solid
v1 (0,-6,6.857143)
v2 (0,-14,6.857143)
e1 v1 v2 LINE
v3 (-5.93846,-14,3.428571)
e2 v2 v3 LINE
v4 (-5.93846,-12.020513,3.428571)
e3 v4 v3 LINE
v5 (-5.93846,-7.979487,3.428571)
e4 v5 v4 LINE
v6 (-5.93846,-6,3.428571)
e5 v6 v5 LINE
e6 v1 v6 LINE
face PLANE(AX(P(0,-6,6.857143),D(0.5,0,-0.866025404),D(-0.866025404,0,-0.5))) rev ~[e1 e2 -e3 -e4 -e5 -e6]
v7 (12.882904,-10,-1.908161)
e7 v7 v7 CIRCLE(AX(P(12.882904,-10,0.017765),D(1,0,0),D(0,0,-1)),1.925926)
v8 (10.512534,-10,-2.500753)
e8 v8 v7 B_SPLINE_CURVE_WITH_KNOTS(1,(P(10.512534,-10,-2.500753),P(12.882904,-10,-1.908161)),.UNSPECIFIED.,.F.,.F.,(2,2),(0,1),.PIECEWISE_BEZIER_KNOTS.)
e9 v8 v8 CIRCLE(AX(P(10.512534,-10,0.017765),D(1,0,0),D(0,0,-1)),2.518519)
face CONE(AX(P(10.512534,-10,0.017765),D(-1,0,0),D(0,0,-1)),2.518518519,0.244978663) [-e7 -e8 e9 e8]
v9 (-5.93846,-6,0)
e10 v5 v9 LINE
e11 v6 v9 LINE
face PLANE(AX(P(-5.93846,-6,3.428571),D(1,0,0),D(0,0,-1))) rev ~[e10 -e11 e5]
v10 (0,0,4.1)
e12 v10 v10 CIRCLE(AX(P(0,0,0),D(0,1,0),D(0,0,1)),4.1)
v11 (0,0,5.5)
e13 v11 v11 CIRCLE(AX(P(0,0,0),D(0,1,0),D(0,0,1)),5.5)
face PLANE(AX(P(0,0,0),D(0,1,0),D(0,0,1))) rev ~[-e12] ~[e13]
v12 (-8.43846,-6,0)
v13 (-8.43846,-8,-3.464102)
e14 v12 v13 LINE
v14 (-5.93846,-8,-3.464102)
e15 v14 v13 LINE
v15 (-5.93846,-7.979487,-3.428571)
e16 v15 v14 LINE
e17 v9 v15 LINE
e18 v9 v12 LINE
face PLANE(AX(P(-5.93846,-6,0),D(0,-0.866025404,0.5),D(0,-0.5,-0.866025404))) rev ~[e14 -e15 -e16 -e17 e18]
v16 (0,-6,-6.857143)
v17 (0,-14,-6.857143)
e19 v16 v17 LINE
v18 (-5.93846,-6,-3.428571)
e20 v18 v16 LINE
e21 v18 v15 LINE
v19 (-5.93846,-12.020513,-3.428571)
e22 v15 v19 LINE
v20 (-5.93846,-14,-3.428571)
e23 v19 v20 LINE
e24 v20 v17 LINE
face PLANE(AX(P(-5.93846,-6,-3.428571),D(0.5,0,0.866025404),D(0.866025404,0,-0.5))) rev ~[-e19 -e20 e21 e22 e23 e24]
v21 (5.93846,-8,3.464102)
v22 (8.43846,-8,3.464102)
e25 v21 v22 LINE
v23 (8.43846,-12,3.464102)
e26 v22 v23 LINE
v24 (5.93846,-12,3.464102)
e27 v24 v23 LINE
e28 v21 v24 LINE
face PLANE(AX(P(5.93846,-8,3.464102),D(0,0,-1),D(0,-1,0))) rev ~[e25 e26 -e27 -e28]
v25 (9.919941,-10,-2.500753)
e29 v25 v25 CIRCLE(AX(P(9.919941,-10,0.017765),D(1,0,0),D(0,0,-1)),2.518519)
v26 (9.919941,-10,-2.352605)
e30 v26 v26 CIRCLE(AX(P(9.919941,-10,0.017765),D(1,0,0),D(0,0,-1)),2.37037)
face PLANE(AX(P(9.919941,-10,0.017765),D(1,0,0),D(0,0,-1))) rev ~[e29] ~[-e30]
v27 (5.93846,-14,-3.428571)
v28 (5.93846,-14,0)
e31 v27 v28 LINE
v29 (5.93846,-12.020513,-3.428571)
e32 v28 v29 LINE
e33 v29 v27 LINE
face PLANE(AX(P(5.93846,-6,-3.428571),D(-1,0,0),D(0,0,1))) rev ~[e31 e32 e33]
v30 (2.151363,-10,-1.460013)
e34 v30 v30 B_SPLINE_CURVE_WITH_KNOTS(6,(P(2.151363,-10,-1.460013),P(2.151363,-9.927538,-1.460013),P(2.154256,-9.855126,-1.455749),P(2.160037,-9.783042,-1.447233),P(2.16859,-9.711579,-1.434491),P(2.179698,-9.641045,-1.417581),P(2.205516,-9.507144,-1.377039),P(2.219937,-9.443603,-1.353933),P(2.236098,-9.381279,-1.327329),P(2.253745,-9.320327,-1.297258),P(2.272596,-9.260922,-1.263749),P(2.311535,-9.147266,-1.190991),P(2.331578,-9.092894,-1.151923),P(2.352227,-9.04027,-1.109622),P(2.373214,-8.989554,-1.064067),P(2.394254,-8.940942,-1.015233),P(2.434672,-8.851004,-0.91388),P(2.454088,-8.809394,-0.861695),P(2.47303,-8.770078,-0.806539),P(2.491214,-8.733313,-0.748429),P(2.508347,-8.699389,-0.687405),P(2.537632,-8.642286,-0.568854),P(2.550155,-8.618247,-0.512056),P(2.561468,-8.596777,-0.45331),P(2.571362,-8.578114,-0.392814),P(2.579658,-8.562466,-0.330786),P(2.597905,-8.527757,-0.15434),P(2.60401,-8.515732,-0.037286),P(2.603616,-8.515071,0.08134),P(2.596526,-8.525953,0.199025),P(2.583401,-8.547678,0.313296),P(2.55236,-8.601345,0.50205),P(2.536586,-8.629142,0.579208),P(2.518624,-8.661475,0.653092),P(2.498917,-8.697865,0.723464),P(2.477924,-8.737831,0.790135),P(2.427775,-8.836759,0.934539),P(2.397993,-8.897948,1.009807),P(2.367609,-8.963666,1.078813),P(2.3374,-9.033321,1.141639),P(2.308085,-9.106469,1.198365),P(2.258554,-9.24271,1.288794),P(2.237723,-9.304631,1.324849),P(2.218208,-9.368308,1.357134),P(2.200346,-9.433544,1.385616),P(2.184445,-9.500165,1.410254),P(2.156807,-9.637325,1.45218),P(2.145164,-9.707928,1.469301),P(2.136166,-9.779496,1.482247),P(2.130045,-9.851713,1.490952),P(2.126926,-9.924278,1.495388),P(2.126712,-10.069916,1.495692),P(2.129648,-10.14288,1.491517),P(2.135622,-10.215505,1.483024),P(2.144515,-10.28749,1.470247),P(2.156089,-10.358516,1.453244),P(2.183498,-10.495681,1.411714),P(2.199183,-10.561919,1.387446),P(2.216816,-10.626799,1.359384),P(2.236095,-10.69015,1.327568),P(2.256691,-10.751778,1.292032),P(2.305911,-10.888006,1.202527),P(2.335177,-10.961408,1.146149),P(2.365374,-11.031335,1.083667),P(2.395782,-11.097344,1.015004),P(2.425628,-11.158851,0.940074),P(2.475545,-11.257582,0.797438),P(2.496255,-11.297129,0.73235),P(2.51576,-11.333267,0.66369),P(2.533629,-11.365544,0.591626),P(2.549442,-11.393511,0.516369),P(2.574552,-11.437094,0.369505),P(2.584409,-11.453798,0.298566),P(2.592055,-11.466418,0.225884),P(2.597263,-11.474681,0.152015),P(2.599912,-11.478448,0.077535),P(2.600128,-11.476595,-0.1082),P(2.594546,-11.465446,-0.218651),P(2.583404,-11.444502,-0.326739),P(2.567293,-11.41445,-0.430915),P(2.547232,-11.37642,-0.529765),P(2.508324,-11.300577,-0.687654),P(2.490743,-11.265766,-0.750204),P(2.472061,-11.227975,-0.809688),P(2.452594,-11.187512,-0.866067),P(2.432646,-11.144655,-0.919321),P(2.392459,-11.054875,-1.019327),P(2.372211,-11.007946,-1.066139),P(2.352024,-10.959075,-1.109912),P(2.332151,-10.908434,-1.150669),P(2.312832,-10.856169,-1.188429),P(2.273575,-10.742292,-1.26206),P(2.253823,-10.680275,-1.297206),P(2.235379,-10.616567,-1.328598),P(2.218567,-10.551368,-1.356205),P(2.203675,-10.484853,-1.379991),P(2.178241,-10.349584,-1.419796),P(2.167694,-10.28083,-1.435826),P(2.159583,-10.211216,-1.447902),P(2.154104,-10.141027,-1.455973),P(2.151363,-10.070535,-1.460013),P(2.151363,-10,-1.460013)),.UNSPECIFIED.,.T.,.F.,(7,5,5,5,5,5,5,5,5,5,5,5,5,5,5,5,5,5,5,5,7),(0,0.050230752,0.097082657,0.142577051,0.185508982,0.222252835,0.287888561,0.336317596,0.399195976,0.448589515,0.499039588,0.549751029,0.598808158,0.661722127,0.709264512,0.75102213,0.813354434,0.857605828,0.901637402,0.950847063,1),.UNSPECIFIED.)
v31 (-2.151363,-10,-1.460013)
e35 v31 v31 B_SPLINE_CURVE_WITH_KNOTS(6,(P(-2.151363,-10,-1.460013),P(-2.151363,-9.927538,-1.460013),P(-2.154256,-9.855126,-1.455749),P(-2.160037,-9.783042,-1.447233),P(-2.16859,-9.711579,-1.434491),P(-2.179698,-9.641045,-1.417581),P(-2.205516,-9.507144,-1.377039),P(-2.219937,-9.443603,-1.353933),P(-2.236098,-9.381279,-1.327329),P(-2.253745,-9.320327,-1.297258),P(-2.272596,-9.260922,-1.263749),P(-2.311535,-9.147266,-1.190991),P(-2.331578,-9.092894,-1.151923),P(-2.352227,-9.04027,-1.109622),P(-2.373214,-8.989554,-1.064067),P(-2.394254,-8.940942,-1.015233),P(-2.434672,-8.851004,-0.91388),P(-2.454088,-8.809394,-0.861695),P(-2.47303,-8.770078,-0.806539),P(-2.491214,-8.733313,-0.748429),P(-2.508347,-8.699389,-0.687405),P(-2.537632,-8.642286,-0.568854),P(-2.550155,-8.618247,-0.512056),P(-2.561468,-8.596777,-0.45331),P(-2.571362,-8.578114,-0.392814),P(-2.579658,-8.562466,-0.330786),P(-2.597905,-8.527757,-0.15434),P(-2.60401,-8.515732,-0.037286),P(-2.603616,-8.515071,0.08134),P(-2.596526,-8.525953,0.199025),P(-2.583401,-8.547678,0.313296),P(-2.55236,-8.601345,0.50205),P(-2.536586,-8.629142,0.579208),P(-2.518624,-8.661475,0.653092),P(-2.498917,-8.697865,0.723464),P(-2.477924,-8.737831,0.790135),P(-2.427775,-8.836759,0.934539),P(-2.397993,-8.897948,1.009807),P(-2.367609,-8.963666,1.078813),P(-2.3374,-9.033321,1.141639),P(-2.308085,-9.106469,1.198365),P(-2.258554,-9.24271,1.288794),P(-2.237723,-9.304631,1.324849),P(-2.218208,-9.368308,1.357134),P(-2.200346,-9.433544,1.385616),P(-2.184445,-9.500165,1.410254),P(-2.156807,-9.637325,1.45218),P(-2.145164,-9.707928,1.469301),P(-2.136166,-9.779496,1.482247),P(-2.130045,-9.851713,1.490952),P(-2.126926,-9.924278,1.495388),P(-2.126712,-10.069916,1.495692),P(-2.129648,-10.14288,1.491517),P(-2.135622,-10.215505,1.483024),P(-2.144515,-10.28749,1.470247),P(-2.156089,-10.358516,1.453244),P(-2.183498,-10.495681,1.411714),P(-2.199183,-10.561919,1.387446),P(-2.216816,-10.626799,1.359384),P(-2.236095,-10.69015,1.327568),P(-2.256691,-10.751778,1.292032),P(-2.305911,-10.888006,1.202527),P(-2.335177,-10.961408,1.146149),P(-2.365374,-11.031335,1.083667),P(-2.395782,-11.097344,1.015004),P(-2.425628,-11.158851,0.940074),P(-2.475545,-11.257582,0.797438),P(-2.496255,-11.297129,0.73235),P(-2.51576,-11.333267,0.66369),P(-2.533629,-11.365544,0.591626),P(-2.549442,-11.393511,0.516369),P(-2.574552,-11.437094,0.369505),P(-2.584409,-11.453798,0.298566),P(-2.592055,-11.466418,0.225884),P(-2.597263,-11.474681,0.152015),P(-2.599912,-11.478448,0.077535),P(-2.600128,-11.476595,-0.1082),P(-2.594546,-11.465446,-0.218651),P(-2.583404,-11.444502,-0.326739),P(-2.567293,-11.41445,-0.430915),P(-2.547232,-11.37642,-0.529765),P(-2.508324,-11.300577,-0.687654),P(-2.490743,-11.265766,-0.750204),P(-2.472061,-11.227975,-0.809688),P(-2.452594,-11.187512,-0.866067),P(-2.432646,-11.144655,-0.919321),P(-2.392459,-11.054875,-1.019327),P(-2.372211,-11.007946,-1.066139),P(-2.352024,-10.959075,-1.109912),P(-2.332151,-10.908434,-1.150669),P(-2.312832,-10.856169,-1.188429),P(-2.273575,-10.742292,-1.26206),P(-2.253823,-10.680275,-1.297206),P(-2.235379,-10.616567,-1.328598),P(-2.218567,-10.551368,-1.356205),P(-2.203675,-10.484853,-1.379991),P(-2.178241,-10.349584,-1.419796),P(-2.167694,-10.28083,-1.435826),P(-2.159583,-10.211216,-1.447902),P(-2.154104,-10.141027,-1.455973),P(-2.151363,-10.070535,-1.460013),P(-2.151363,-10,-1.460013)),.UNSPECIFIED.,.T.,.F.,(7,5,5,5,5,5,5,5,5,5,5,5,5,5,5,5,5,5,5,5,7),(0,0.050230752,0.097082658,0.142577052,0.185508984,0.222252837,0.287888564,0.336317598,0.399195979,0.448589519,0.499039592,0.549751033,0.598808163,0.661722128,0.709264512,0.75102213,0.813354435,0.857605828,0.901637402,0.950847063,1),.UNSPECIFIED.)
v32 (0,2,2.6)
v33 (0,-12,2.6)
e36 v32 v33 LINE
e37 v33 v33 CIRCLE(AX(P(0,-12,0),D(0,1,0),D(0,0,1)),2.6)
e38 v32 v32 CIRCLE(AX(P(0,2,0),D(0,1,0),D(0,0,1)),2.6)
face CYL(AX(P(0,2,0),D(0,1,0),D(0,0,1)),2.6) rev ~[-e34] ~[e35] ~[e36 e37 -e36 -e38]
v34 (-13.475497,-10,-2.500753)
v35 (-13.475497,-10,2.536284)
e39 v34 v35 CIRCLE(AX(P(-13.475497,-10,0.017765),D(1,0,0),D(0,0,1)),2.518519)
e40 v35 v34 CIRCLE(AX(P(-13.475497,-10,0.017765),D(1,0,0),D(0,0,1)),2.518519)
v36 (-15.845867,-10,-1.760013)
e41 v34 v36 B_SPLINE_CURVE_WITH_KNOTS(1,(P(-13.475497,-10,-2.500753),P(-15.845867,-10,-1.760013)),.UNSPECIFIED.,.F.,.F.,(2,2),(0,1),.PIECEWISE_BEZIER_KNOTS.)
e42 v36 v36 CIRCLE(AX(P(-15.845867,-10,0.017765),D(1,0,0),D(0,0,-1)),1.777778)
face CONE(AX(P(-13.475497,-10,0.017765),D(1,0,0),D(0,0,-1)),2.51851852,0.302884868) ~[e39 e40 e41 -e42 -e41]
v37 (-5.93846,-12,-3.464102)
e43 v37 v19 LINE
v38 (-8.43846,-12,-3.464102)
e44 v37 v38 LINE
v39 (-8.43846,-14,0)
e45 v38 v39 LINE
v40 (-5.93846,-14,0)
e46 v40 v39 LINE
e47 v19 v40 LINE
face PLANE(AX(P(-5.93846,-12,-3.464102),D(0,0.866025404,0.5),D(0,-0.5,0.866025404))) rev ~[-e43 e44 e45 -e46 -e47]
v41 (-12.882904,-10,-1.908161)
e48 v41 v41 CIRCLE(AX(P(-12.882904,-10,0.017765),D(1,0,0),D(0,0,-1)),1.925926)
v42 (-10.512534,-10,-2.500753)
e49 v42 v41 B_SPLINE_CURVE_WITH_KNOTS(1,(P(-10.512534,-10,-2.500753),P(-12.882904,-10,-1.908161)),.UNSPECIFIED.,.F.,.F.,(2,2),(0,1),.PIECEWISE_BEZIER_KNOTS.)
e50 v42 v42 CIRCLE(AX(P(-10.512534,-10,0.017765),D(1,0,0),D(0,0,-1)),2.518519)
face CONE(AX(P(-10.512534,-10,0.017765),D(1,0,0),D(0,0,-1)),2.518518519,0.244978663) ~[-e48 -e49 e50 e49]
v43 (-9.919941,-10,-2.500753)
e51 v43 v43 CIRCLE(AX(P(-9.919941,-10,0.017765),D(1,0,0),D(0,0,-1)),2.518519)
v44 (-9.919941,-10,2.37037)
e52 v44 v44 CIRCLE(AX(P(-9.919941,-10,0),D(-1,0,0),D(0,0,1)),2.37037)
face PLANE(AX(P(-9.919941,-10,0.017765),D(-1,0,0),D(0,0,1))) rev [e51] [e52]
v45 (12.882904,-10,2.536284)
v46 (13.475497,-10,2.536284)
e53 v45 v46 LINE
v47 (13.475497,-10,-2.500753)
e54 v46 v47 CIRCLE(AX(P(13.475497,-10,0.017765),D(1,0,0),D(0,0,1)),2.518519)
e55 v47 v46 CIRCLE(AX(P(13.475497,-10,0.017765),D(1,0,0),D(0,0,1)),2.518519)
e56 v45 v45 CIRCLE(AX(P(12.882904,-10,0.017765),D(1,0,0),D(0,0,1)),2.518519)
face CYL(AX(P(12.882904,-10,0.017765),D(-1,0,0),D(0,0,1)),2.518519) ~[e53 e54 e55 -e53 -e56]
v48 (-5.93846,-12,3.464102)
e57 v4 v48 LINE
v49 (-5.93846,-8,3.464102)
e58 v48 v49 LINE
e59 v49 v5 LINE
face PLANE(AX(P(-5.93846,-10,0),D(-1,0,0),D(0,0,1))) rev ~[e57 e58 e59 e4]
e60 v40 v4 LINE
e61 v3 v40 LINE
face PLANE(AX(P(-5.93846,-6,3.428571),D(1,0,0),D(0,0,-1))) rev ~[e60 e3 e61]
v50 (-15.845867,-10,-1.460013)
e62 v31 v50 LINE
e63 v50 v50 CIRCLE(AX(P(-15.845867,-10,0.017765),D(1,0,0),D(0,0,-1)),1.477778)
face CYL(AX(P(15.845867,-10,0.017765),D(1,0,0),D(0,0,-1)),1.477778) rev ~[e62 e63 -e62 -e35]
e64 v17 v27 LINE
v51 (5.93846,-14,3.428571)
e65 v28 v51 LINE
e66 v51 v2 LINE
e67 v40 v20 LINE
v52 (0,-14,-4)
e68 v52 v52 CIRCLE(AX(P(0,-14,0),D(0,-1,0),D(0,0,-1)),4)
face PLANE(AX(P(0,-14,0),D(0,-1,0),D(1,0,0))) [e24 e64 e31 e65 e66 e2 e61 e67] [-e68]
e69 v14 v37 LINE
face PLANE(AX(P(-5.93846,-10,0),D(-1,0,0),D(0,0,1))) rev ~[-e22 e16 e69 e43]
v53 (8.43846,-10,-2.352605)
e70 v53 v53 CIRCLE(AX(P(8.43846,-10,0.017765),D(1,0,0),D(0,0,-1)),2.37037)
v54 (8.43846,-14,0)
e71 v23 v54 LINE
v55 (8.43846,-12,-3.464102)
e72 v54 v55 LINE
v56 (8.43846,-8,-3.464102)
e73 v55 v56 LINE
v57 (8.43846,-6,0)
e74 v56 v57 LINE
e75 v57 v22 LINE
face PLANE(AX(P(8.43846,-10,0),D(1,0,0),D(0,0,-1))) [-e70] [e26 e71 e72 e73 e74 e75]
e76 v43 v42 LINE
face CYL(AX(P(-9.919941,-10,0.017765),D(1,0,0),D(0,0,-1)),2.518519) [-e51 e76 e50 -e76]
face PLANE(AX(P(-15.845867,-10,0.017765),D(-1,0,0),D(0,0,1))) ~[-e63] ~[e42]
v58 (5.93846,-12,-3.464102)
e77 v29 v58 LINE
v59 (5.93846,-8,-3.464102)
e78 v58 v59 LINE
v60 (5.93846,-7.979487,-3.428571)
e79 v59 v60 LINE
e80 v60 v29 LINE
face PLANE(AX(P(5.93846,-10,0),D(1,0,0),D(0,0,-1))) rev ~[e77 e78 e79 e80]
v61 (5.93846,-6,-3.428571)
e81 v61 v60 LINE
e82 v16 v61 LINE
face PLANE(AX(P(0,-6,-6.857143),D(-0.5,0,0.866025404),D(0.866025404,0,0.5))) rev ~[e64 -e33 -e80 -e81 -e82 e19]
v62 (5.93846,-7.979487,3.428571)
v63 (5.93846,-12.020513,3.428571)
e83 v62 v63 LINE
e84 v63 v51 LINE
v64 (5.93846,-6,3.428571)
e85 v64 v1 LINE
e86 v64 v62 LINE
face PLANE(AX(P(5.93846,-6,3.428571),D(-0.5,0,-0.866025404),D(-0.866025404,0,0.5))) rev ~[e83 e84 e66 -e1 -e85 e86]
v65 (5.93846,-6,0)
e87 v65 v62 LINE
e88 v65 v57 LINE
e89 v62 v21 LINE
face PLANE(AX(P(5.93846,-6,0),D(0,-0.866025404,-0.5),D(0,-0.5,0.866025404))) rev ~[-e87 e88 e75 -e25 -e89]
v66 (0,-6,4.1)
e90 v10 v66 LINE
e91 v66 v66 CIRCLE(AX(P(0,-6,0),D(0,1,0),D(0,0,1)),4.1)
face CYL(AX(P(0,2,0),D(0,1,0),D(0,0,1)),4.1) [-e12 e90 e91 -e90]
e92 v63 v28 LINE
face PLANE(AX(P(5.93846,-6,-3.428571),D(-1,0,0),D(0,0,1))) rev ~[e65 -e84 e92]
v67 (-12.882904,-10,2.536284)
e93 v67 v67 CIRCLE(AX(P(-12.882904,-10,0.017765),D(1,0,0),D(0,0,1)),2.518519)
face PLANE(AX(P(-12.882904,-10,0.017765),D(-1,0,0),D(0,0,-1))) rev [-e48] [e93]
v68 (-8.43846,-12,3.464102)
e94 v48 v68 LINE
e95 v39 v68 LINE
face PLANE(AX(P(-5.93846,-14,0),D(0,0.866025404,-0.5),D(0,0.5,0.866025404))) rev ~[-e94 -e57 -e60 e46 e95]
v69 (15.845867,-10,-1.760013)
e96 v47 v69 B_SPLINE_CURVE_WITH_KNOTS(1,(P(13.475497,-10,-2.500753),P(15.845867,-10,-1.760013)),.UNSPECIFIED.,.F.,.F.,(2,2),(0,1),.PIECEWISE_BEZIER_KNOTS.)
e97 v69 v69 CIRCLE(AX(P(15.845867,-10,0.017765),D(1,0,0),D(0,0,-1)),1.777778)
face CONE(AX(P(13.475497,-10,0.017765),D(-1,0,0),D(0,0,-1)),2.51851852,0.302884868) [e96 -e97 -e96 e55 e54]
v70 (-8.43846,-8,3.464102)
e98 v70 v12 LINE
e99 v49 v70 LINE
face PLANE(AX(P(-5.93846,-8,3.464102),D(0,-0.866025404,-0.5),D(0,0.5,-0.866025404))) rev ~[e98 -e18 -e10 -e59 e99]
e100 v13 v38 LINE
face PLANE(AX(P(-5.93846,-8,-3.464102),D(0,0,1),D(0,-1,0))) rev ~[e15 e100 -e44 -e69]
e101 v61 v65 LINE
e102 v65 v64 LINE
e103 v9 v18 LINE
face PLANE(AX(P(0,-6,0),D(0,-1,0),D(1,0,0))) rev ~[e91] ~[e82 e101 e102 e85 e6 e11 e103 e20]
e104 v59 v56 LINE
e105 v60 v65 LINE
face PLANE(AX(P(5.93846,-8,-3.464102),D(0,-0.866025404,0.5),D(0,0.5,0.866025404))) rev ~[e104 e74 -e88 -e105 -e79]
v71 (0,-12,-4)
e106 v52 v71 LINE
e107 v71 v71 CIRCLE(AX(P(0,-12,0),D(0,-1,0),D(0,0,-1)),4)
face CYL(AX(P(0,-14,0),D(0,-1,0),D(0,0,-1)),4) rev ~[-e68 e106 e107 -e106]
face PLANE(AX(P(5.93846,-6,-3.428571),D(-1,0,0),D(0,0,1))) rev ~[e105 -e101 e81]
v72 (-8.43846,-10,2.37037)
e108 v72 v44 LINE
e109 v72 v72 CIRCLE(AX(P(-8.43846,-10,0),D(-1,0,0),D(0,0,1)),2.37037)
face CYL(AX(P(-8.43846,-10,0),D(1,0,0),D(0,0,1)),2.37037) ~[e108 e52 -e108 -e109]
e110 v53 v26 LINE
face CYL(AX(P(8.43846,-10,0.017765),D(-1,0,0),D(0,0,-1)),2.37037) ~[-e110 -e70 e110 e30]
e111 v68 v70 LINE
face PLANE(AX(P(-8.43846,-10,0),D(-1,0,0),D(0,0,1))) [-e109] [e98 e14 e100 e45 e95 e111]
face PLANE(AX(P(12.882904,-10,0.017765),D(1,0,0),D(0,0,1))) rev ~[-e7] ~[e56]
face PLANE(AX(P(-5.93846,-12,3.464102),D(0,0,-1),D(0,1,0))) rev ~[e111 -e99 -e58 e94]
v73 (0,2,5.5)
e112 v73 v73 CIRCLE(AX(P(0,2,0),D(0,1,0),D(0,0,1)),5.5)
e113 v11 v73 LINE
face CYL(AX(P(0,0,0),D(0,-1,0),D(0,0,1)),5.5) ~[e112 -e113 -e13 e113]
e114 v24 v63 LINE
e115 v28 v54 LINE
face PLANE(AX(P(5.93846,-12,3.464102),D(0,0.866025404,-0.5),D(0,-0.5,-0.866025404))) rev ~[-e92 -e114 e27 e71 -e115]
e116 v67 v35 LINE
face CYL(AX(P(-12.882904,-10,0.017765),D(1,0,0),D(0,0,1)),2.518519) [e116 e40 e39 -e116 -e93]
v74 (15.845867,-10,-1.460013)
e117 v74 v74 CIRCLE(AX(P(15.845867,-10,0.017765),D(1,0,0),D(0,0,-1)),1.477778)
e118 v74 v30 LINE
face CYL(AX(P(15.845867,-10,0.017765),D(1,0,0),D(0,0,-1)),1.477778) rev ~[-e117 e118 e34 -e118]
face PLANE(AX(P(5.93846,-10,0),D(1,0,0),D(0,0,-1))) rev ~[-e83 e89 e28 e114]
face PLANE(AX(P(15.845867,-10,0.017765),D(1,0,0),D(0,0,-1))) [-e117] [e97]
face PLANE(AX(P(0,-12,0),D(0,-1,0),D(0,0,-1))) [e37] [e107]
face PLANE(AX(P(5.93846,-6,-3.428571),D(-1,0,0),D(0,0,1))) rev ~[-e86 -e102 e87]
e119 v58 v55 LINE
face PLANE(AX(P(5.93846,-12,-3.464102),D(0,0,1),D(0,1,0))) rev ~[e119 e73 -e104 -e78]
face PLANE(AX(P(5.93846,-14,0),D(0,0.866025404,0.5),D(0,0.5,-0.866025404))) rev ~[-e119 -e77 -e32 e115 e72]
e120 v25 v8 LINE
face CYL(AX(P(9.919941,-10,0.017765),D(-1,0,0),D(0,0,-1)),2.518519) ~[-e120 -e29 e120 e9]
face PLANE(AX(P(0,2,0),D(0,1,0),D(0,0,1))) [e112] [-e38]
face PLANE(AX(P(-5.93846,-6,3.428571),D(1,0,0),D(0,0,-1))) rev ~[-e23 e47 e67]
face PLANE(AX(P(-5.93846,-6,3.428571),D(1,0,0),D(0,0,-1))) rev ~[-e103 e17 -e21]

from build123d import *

# Parameters (mm, degrees)
SKETCH1_R            = 5.5
SKETCH1_R_2          = 4.1
BOSS_EXTRUDE1_DEPTH  = 2
SKETCH2_R            = 4.1
BOSS_EXTRUDE2_DEPTH  = 8
SKETCH4_R            = 2.6
BOSS_EXTRUDE3_DEPTH  = 22
BOSS_EXTRUDE4_DEPTH  = 8
BOSS_EXTRUDE5_DEPTH  = 2.5
BOSS_EXTRUDE6_DEPTH  = 2.5
SKETCH8_R            = 2.6
CUT_EXTRUDE1_DEPTH   = 16
SKETCH9_R            = 2.37037037
BOSS_EXTRUDE7_DEPTH  = 1.481481481
SKETCH10_R           = 2.37037037
BOSS_EXTRUDE8_DEPTH  = 1.481481481
SKETCH11_R           = 2.518518519
BOSS_EXTRUDE9_DEPTH  = 0.592592593
SKETCH13_R           = 2.518518519
SKETCH12_R           = 1.925925926
SKETCH14_R           = 2.51851852
BOSS_EXTRUDE10_DEPTH = 0.592592593
SKETCH16_R           = 2.51851852
SKETCH15_R           = 1.77777778
SKETCH17_R           = 1.47777778
CUT_EXTRUDE2_DEPTH   = 31.691734637
SKETCH18_R           = 2.6
CUT_EXTRUDE3_DEPTH   = 6
SKETCH21_R           = 4
CUT_EXTRUDE4_DEPTH   = 2


with BuildPart() as part:
    # Sketch1 → Boss-Extrude1 (new body)
    with BuildSketch(Plane(origin=(0, 0, 0), x_dir=(1, 0, 0), z_dir=(0, 1, 0))):
        with Locations(Location((0, 0, 0), (0, 0, 270))):
            Circle(SKETCH1_R)
        with Locations(Location((0, 0, 0), (0, 0, 270))):
            Circle(SKETCH1_R_2, mode=Mode.SUBTRACT)
    extrude(amount=BOSS_EXTRUDE1_DEPTH)



with BuildPart() as body_2:
    # Sketch2 → Boss-Extrude2 (new body)
    with BuildSketch(Plane(origin=(0, 2, 0), x_dir=(1, 0, 0), z_dir=(0, 1, 0))):
        with Locations(Location((0, 0, 0), (0, 0, 270))):
            Circle(SKETCH2_R)
    extrude(amount=-BOSS_EXTRUDE2_DEPTH)


with BuildPart() as part_1:
    add(part.part)

    add(body_2.part)  # Boss-Extrude3 merges body 2
    # Sketch4 → Boss-Extrude3 (add)
    with BuildSketch(Plane(origin=(0, 2, 0), x_dir=(1, 0, 0), z_dir=(0, 1, 0))):
        with Locations(Location((0, 0, 0), (0, 0, 270))):
            Circle(SKETCH4_R)
    extrude(amount=-BOSS_EXTRUDE3_DEPTH)

    # Sketch5 → Boss-Extrude4 (add)
    with BuildSketch(Plane.XZ.offset(6)):
        Polygon((5.938459912, -3.428571429), (5.938459912, 3.428571429), (0, 6.857142857), (-5.938459912, 3.428571429), (-5.938459912, -3.428571429), (0, -6.857142857), align=None)
    extrude(amount=BOSS_EXTRUDE4_DEPTH)

    # Sketch6 → Boss-Extrude5 (add)
    with BuildSketch(Plane(origin=(5.938459912, 0, 0), x_dir=(0, 0, -1), z_dir=(1, 0, 0))):
        Polygon((0, -14), (3.464101615, -12), (3.464101615, -8), (0, -6), (-3.464101615, -8), (-3.464101615, -12), align=None)
    extrude(amount=BOSS_EXTRUDE5_DEPTH)

    # Sketch7 → Boss-Extrude6 (add)
    with BuildSketch(Plane.ZY.offset(5.938459912)):
        Polygon((0, -14), (3.464101615, -12), (3.464101615, -8), (0, -6), (-3.464101615, -8), (-3.464101615, -12), align=None)
    extrude(amount=BOSS_EXTRUDE6_DEPTH)

    # Sketch8 → Cut-Extrude1 (cut)
    with BuildSketch(Plane(origin=(0, 2, 0), x_dir=(1, 0, 0), z_dir=(0, 1, 0))):
        with Locations(Location((0, 0, 0), (0, 0, 270))):
            Circle(SKETCH8_R)
    extrude(amount=-CUT_EXTRUDE1_DEPTH, mode=Mode.SUBTRACT)


with BuildPart() as cut_extrude1_piece_1:
    # of the separate pieces the step leaves, piece 1, a body of its own (cut_extrude1_pieces)
    add(part_1.part.solids().sort_by_distance((0, 2, 5.5))[0])

    # Sketch9 → Boss-Extrude7 (add)
    with BuildSketch(Plane(origin=(8.438459912, 0, 0), x_dir=(0, 0, -1), z_dir=(1, 0, 0))):
        with Locations((-0.017765093, -10)):
            Circle(SKETCH9_R)
    extrude(amount=BOSS_EXTRUDE7_DEPTH)

    # Sketch10 → Boss-Extrude8 (add)
    with BuildSketch(Plane.ZY.offset(8.438459912)):
        with Locations((0, -10)):
            Circle(SKETCH10_R)
    extrude(amount=BOSS_EXTRUDE8_DEPTH)

    # Sketch11 → Boss-Extrude9 (add)
    with BuildSketch(Plane(origin=(9.919941393, 0, 0), x_dir=(0, 0, -1), z_dir=(1, 0, 0))):
        with Locations((-0.017765093, -10)):
            Circle(SKETCH11_R)
    boss_extrude9 = extrude(amount=BOSS_EXTRUDE9_DEPTH)

    # Sketch13 → Loft1 section 0
    with BuildSketch(Plane(origin=(10.512533986, 0, 0), x_dir=(0, 0, -1), z_dir=(1, 0, 0))):
        with Locations((-0.017765093, -10)):
            Circle(SKETCH13_R)
    # Sketch12 → Loft1 section 1
    with BuildSketch(Plane(origin=(12.882904356, 0, 0), x_dir=(0, 0, -1), z_dir=(1, 0, 0))):
        with Locations((-0.017765093, -10)):
            Circle(SKETCH12_R)
    loft1 = loft()

    # Sketch14 → Boss-Extrude10 (add)
    with BuildSketch(Plane(origin=(12.882904356, 0, 0), x_dir=(0, 0, -1), z_dir=(1, 0, 0))):
        with Locations(Location((-0.017765093, -10, 0), (0, 0, 180))):
            Circle(SKETCH14_R)
    boss_extrude10 = extrude(amount=BOSS_EXTRUDE10_DEPTH)

    # Sketch16 → Loft2 section 0
    with BuildSketch(Plane(origin=(13.475496948, 0, 0), x_dir=(0, 0, -1), z_dir=(1, 0, 0))):
        with Locations((-0.017765093, -10)):
            Circle(SKETCH16_R)
    # Sketch15 → Loft2 section 1
    with BuildSketch(Plane(origin=(15.845867318, 0, 0), x_dir=(0, 0, -1), z_dir=(1, 0, 0))):
        with Locations((-0.017765093, -10)):
            Circle(SKETCH15_R)
    loft2 = loft()

    # Mirror1: Boss-Extrude9, Loft1, Boss-Extrude10, Loft2 across plane
    add(boss_extrude9.mirror(Plane(origin=(0, 0, 0), x_dir=(0, 0, 1), z_dir=(1, 0, 0))))
    add(loft1.mirror(Plane(origin=(0, 0, 0), x_dir=(0, 0, 1), z_dir=(1, 0, 0))))
    add(boss_extrude10.mirror(Plane(origin=(0, 0, 0), x_dir=(0, 0, 1), z_dir=(1, 0, 0))))
    add(loft2.mirror(Plane(origin=(0, 0, 0), x_dir=(0, 0, 1), z_dir=(1, 0, 0))))

    # Sketch17 → Cut-Extrude2 (cut)
    with BuildSketch(Plane(origin=(15.845867318, 0, 0), x_dir=(0, 0, -1), z_dir=(1, 0, 0))):
        with Locations((-0.017765093, -10)):
            Circle(SKETCH17_R)
    extrude(amount=-CUT_EXTRUDE2_DEPTH, mode=Mode.SUBTRACT)

    # Sketch21 → Cut-Extrude4 (cut)
    with BuildSketch(Plane.XZ.offset(14)):
        with Locations(Location((0, 0, 0), (0, 0, 270))):
            Circle(SKETCH21_R)
    extrude(amount=-CUT_EXTRUDE4_DEPTH, mode=Mode.SUBTRACT)


with BuildPart() as cut_extrude1_piece_2:
    # of the separate pieces the step leaves, piece 2, a body of its own (cut_extrude1_pieces)
    add(part_1.part.solids().sort_by_distance((0, -20, 2.6))[0])

    # Sketch18 → Cut-Extrude3 (cut)
    with BuildSketch(Plane.XZ.offset(20)):
        with Locations(Location((0, 0, 0), (0, 0, 90))):
            Circle(SKETCH18_R)
    extrude(amount=-CUT_EXTRUDE3_DEPTH, mode=Mode.SUBTRACT)


solid = cut_extrude1_piece_1.part
